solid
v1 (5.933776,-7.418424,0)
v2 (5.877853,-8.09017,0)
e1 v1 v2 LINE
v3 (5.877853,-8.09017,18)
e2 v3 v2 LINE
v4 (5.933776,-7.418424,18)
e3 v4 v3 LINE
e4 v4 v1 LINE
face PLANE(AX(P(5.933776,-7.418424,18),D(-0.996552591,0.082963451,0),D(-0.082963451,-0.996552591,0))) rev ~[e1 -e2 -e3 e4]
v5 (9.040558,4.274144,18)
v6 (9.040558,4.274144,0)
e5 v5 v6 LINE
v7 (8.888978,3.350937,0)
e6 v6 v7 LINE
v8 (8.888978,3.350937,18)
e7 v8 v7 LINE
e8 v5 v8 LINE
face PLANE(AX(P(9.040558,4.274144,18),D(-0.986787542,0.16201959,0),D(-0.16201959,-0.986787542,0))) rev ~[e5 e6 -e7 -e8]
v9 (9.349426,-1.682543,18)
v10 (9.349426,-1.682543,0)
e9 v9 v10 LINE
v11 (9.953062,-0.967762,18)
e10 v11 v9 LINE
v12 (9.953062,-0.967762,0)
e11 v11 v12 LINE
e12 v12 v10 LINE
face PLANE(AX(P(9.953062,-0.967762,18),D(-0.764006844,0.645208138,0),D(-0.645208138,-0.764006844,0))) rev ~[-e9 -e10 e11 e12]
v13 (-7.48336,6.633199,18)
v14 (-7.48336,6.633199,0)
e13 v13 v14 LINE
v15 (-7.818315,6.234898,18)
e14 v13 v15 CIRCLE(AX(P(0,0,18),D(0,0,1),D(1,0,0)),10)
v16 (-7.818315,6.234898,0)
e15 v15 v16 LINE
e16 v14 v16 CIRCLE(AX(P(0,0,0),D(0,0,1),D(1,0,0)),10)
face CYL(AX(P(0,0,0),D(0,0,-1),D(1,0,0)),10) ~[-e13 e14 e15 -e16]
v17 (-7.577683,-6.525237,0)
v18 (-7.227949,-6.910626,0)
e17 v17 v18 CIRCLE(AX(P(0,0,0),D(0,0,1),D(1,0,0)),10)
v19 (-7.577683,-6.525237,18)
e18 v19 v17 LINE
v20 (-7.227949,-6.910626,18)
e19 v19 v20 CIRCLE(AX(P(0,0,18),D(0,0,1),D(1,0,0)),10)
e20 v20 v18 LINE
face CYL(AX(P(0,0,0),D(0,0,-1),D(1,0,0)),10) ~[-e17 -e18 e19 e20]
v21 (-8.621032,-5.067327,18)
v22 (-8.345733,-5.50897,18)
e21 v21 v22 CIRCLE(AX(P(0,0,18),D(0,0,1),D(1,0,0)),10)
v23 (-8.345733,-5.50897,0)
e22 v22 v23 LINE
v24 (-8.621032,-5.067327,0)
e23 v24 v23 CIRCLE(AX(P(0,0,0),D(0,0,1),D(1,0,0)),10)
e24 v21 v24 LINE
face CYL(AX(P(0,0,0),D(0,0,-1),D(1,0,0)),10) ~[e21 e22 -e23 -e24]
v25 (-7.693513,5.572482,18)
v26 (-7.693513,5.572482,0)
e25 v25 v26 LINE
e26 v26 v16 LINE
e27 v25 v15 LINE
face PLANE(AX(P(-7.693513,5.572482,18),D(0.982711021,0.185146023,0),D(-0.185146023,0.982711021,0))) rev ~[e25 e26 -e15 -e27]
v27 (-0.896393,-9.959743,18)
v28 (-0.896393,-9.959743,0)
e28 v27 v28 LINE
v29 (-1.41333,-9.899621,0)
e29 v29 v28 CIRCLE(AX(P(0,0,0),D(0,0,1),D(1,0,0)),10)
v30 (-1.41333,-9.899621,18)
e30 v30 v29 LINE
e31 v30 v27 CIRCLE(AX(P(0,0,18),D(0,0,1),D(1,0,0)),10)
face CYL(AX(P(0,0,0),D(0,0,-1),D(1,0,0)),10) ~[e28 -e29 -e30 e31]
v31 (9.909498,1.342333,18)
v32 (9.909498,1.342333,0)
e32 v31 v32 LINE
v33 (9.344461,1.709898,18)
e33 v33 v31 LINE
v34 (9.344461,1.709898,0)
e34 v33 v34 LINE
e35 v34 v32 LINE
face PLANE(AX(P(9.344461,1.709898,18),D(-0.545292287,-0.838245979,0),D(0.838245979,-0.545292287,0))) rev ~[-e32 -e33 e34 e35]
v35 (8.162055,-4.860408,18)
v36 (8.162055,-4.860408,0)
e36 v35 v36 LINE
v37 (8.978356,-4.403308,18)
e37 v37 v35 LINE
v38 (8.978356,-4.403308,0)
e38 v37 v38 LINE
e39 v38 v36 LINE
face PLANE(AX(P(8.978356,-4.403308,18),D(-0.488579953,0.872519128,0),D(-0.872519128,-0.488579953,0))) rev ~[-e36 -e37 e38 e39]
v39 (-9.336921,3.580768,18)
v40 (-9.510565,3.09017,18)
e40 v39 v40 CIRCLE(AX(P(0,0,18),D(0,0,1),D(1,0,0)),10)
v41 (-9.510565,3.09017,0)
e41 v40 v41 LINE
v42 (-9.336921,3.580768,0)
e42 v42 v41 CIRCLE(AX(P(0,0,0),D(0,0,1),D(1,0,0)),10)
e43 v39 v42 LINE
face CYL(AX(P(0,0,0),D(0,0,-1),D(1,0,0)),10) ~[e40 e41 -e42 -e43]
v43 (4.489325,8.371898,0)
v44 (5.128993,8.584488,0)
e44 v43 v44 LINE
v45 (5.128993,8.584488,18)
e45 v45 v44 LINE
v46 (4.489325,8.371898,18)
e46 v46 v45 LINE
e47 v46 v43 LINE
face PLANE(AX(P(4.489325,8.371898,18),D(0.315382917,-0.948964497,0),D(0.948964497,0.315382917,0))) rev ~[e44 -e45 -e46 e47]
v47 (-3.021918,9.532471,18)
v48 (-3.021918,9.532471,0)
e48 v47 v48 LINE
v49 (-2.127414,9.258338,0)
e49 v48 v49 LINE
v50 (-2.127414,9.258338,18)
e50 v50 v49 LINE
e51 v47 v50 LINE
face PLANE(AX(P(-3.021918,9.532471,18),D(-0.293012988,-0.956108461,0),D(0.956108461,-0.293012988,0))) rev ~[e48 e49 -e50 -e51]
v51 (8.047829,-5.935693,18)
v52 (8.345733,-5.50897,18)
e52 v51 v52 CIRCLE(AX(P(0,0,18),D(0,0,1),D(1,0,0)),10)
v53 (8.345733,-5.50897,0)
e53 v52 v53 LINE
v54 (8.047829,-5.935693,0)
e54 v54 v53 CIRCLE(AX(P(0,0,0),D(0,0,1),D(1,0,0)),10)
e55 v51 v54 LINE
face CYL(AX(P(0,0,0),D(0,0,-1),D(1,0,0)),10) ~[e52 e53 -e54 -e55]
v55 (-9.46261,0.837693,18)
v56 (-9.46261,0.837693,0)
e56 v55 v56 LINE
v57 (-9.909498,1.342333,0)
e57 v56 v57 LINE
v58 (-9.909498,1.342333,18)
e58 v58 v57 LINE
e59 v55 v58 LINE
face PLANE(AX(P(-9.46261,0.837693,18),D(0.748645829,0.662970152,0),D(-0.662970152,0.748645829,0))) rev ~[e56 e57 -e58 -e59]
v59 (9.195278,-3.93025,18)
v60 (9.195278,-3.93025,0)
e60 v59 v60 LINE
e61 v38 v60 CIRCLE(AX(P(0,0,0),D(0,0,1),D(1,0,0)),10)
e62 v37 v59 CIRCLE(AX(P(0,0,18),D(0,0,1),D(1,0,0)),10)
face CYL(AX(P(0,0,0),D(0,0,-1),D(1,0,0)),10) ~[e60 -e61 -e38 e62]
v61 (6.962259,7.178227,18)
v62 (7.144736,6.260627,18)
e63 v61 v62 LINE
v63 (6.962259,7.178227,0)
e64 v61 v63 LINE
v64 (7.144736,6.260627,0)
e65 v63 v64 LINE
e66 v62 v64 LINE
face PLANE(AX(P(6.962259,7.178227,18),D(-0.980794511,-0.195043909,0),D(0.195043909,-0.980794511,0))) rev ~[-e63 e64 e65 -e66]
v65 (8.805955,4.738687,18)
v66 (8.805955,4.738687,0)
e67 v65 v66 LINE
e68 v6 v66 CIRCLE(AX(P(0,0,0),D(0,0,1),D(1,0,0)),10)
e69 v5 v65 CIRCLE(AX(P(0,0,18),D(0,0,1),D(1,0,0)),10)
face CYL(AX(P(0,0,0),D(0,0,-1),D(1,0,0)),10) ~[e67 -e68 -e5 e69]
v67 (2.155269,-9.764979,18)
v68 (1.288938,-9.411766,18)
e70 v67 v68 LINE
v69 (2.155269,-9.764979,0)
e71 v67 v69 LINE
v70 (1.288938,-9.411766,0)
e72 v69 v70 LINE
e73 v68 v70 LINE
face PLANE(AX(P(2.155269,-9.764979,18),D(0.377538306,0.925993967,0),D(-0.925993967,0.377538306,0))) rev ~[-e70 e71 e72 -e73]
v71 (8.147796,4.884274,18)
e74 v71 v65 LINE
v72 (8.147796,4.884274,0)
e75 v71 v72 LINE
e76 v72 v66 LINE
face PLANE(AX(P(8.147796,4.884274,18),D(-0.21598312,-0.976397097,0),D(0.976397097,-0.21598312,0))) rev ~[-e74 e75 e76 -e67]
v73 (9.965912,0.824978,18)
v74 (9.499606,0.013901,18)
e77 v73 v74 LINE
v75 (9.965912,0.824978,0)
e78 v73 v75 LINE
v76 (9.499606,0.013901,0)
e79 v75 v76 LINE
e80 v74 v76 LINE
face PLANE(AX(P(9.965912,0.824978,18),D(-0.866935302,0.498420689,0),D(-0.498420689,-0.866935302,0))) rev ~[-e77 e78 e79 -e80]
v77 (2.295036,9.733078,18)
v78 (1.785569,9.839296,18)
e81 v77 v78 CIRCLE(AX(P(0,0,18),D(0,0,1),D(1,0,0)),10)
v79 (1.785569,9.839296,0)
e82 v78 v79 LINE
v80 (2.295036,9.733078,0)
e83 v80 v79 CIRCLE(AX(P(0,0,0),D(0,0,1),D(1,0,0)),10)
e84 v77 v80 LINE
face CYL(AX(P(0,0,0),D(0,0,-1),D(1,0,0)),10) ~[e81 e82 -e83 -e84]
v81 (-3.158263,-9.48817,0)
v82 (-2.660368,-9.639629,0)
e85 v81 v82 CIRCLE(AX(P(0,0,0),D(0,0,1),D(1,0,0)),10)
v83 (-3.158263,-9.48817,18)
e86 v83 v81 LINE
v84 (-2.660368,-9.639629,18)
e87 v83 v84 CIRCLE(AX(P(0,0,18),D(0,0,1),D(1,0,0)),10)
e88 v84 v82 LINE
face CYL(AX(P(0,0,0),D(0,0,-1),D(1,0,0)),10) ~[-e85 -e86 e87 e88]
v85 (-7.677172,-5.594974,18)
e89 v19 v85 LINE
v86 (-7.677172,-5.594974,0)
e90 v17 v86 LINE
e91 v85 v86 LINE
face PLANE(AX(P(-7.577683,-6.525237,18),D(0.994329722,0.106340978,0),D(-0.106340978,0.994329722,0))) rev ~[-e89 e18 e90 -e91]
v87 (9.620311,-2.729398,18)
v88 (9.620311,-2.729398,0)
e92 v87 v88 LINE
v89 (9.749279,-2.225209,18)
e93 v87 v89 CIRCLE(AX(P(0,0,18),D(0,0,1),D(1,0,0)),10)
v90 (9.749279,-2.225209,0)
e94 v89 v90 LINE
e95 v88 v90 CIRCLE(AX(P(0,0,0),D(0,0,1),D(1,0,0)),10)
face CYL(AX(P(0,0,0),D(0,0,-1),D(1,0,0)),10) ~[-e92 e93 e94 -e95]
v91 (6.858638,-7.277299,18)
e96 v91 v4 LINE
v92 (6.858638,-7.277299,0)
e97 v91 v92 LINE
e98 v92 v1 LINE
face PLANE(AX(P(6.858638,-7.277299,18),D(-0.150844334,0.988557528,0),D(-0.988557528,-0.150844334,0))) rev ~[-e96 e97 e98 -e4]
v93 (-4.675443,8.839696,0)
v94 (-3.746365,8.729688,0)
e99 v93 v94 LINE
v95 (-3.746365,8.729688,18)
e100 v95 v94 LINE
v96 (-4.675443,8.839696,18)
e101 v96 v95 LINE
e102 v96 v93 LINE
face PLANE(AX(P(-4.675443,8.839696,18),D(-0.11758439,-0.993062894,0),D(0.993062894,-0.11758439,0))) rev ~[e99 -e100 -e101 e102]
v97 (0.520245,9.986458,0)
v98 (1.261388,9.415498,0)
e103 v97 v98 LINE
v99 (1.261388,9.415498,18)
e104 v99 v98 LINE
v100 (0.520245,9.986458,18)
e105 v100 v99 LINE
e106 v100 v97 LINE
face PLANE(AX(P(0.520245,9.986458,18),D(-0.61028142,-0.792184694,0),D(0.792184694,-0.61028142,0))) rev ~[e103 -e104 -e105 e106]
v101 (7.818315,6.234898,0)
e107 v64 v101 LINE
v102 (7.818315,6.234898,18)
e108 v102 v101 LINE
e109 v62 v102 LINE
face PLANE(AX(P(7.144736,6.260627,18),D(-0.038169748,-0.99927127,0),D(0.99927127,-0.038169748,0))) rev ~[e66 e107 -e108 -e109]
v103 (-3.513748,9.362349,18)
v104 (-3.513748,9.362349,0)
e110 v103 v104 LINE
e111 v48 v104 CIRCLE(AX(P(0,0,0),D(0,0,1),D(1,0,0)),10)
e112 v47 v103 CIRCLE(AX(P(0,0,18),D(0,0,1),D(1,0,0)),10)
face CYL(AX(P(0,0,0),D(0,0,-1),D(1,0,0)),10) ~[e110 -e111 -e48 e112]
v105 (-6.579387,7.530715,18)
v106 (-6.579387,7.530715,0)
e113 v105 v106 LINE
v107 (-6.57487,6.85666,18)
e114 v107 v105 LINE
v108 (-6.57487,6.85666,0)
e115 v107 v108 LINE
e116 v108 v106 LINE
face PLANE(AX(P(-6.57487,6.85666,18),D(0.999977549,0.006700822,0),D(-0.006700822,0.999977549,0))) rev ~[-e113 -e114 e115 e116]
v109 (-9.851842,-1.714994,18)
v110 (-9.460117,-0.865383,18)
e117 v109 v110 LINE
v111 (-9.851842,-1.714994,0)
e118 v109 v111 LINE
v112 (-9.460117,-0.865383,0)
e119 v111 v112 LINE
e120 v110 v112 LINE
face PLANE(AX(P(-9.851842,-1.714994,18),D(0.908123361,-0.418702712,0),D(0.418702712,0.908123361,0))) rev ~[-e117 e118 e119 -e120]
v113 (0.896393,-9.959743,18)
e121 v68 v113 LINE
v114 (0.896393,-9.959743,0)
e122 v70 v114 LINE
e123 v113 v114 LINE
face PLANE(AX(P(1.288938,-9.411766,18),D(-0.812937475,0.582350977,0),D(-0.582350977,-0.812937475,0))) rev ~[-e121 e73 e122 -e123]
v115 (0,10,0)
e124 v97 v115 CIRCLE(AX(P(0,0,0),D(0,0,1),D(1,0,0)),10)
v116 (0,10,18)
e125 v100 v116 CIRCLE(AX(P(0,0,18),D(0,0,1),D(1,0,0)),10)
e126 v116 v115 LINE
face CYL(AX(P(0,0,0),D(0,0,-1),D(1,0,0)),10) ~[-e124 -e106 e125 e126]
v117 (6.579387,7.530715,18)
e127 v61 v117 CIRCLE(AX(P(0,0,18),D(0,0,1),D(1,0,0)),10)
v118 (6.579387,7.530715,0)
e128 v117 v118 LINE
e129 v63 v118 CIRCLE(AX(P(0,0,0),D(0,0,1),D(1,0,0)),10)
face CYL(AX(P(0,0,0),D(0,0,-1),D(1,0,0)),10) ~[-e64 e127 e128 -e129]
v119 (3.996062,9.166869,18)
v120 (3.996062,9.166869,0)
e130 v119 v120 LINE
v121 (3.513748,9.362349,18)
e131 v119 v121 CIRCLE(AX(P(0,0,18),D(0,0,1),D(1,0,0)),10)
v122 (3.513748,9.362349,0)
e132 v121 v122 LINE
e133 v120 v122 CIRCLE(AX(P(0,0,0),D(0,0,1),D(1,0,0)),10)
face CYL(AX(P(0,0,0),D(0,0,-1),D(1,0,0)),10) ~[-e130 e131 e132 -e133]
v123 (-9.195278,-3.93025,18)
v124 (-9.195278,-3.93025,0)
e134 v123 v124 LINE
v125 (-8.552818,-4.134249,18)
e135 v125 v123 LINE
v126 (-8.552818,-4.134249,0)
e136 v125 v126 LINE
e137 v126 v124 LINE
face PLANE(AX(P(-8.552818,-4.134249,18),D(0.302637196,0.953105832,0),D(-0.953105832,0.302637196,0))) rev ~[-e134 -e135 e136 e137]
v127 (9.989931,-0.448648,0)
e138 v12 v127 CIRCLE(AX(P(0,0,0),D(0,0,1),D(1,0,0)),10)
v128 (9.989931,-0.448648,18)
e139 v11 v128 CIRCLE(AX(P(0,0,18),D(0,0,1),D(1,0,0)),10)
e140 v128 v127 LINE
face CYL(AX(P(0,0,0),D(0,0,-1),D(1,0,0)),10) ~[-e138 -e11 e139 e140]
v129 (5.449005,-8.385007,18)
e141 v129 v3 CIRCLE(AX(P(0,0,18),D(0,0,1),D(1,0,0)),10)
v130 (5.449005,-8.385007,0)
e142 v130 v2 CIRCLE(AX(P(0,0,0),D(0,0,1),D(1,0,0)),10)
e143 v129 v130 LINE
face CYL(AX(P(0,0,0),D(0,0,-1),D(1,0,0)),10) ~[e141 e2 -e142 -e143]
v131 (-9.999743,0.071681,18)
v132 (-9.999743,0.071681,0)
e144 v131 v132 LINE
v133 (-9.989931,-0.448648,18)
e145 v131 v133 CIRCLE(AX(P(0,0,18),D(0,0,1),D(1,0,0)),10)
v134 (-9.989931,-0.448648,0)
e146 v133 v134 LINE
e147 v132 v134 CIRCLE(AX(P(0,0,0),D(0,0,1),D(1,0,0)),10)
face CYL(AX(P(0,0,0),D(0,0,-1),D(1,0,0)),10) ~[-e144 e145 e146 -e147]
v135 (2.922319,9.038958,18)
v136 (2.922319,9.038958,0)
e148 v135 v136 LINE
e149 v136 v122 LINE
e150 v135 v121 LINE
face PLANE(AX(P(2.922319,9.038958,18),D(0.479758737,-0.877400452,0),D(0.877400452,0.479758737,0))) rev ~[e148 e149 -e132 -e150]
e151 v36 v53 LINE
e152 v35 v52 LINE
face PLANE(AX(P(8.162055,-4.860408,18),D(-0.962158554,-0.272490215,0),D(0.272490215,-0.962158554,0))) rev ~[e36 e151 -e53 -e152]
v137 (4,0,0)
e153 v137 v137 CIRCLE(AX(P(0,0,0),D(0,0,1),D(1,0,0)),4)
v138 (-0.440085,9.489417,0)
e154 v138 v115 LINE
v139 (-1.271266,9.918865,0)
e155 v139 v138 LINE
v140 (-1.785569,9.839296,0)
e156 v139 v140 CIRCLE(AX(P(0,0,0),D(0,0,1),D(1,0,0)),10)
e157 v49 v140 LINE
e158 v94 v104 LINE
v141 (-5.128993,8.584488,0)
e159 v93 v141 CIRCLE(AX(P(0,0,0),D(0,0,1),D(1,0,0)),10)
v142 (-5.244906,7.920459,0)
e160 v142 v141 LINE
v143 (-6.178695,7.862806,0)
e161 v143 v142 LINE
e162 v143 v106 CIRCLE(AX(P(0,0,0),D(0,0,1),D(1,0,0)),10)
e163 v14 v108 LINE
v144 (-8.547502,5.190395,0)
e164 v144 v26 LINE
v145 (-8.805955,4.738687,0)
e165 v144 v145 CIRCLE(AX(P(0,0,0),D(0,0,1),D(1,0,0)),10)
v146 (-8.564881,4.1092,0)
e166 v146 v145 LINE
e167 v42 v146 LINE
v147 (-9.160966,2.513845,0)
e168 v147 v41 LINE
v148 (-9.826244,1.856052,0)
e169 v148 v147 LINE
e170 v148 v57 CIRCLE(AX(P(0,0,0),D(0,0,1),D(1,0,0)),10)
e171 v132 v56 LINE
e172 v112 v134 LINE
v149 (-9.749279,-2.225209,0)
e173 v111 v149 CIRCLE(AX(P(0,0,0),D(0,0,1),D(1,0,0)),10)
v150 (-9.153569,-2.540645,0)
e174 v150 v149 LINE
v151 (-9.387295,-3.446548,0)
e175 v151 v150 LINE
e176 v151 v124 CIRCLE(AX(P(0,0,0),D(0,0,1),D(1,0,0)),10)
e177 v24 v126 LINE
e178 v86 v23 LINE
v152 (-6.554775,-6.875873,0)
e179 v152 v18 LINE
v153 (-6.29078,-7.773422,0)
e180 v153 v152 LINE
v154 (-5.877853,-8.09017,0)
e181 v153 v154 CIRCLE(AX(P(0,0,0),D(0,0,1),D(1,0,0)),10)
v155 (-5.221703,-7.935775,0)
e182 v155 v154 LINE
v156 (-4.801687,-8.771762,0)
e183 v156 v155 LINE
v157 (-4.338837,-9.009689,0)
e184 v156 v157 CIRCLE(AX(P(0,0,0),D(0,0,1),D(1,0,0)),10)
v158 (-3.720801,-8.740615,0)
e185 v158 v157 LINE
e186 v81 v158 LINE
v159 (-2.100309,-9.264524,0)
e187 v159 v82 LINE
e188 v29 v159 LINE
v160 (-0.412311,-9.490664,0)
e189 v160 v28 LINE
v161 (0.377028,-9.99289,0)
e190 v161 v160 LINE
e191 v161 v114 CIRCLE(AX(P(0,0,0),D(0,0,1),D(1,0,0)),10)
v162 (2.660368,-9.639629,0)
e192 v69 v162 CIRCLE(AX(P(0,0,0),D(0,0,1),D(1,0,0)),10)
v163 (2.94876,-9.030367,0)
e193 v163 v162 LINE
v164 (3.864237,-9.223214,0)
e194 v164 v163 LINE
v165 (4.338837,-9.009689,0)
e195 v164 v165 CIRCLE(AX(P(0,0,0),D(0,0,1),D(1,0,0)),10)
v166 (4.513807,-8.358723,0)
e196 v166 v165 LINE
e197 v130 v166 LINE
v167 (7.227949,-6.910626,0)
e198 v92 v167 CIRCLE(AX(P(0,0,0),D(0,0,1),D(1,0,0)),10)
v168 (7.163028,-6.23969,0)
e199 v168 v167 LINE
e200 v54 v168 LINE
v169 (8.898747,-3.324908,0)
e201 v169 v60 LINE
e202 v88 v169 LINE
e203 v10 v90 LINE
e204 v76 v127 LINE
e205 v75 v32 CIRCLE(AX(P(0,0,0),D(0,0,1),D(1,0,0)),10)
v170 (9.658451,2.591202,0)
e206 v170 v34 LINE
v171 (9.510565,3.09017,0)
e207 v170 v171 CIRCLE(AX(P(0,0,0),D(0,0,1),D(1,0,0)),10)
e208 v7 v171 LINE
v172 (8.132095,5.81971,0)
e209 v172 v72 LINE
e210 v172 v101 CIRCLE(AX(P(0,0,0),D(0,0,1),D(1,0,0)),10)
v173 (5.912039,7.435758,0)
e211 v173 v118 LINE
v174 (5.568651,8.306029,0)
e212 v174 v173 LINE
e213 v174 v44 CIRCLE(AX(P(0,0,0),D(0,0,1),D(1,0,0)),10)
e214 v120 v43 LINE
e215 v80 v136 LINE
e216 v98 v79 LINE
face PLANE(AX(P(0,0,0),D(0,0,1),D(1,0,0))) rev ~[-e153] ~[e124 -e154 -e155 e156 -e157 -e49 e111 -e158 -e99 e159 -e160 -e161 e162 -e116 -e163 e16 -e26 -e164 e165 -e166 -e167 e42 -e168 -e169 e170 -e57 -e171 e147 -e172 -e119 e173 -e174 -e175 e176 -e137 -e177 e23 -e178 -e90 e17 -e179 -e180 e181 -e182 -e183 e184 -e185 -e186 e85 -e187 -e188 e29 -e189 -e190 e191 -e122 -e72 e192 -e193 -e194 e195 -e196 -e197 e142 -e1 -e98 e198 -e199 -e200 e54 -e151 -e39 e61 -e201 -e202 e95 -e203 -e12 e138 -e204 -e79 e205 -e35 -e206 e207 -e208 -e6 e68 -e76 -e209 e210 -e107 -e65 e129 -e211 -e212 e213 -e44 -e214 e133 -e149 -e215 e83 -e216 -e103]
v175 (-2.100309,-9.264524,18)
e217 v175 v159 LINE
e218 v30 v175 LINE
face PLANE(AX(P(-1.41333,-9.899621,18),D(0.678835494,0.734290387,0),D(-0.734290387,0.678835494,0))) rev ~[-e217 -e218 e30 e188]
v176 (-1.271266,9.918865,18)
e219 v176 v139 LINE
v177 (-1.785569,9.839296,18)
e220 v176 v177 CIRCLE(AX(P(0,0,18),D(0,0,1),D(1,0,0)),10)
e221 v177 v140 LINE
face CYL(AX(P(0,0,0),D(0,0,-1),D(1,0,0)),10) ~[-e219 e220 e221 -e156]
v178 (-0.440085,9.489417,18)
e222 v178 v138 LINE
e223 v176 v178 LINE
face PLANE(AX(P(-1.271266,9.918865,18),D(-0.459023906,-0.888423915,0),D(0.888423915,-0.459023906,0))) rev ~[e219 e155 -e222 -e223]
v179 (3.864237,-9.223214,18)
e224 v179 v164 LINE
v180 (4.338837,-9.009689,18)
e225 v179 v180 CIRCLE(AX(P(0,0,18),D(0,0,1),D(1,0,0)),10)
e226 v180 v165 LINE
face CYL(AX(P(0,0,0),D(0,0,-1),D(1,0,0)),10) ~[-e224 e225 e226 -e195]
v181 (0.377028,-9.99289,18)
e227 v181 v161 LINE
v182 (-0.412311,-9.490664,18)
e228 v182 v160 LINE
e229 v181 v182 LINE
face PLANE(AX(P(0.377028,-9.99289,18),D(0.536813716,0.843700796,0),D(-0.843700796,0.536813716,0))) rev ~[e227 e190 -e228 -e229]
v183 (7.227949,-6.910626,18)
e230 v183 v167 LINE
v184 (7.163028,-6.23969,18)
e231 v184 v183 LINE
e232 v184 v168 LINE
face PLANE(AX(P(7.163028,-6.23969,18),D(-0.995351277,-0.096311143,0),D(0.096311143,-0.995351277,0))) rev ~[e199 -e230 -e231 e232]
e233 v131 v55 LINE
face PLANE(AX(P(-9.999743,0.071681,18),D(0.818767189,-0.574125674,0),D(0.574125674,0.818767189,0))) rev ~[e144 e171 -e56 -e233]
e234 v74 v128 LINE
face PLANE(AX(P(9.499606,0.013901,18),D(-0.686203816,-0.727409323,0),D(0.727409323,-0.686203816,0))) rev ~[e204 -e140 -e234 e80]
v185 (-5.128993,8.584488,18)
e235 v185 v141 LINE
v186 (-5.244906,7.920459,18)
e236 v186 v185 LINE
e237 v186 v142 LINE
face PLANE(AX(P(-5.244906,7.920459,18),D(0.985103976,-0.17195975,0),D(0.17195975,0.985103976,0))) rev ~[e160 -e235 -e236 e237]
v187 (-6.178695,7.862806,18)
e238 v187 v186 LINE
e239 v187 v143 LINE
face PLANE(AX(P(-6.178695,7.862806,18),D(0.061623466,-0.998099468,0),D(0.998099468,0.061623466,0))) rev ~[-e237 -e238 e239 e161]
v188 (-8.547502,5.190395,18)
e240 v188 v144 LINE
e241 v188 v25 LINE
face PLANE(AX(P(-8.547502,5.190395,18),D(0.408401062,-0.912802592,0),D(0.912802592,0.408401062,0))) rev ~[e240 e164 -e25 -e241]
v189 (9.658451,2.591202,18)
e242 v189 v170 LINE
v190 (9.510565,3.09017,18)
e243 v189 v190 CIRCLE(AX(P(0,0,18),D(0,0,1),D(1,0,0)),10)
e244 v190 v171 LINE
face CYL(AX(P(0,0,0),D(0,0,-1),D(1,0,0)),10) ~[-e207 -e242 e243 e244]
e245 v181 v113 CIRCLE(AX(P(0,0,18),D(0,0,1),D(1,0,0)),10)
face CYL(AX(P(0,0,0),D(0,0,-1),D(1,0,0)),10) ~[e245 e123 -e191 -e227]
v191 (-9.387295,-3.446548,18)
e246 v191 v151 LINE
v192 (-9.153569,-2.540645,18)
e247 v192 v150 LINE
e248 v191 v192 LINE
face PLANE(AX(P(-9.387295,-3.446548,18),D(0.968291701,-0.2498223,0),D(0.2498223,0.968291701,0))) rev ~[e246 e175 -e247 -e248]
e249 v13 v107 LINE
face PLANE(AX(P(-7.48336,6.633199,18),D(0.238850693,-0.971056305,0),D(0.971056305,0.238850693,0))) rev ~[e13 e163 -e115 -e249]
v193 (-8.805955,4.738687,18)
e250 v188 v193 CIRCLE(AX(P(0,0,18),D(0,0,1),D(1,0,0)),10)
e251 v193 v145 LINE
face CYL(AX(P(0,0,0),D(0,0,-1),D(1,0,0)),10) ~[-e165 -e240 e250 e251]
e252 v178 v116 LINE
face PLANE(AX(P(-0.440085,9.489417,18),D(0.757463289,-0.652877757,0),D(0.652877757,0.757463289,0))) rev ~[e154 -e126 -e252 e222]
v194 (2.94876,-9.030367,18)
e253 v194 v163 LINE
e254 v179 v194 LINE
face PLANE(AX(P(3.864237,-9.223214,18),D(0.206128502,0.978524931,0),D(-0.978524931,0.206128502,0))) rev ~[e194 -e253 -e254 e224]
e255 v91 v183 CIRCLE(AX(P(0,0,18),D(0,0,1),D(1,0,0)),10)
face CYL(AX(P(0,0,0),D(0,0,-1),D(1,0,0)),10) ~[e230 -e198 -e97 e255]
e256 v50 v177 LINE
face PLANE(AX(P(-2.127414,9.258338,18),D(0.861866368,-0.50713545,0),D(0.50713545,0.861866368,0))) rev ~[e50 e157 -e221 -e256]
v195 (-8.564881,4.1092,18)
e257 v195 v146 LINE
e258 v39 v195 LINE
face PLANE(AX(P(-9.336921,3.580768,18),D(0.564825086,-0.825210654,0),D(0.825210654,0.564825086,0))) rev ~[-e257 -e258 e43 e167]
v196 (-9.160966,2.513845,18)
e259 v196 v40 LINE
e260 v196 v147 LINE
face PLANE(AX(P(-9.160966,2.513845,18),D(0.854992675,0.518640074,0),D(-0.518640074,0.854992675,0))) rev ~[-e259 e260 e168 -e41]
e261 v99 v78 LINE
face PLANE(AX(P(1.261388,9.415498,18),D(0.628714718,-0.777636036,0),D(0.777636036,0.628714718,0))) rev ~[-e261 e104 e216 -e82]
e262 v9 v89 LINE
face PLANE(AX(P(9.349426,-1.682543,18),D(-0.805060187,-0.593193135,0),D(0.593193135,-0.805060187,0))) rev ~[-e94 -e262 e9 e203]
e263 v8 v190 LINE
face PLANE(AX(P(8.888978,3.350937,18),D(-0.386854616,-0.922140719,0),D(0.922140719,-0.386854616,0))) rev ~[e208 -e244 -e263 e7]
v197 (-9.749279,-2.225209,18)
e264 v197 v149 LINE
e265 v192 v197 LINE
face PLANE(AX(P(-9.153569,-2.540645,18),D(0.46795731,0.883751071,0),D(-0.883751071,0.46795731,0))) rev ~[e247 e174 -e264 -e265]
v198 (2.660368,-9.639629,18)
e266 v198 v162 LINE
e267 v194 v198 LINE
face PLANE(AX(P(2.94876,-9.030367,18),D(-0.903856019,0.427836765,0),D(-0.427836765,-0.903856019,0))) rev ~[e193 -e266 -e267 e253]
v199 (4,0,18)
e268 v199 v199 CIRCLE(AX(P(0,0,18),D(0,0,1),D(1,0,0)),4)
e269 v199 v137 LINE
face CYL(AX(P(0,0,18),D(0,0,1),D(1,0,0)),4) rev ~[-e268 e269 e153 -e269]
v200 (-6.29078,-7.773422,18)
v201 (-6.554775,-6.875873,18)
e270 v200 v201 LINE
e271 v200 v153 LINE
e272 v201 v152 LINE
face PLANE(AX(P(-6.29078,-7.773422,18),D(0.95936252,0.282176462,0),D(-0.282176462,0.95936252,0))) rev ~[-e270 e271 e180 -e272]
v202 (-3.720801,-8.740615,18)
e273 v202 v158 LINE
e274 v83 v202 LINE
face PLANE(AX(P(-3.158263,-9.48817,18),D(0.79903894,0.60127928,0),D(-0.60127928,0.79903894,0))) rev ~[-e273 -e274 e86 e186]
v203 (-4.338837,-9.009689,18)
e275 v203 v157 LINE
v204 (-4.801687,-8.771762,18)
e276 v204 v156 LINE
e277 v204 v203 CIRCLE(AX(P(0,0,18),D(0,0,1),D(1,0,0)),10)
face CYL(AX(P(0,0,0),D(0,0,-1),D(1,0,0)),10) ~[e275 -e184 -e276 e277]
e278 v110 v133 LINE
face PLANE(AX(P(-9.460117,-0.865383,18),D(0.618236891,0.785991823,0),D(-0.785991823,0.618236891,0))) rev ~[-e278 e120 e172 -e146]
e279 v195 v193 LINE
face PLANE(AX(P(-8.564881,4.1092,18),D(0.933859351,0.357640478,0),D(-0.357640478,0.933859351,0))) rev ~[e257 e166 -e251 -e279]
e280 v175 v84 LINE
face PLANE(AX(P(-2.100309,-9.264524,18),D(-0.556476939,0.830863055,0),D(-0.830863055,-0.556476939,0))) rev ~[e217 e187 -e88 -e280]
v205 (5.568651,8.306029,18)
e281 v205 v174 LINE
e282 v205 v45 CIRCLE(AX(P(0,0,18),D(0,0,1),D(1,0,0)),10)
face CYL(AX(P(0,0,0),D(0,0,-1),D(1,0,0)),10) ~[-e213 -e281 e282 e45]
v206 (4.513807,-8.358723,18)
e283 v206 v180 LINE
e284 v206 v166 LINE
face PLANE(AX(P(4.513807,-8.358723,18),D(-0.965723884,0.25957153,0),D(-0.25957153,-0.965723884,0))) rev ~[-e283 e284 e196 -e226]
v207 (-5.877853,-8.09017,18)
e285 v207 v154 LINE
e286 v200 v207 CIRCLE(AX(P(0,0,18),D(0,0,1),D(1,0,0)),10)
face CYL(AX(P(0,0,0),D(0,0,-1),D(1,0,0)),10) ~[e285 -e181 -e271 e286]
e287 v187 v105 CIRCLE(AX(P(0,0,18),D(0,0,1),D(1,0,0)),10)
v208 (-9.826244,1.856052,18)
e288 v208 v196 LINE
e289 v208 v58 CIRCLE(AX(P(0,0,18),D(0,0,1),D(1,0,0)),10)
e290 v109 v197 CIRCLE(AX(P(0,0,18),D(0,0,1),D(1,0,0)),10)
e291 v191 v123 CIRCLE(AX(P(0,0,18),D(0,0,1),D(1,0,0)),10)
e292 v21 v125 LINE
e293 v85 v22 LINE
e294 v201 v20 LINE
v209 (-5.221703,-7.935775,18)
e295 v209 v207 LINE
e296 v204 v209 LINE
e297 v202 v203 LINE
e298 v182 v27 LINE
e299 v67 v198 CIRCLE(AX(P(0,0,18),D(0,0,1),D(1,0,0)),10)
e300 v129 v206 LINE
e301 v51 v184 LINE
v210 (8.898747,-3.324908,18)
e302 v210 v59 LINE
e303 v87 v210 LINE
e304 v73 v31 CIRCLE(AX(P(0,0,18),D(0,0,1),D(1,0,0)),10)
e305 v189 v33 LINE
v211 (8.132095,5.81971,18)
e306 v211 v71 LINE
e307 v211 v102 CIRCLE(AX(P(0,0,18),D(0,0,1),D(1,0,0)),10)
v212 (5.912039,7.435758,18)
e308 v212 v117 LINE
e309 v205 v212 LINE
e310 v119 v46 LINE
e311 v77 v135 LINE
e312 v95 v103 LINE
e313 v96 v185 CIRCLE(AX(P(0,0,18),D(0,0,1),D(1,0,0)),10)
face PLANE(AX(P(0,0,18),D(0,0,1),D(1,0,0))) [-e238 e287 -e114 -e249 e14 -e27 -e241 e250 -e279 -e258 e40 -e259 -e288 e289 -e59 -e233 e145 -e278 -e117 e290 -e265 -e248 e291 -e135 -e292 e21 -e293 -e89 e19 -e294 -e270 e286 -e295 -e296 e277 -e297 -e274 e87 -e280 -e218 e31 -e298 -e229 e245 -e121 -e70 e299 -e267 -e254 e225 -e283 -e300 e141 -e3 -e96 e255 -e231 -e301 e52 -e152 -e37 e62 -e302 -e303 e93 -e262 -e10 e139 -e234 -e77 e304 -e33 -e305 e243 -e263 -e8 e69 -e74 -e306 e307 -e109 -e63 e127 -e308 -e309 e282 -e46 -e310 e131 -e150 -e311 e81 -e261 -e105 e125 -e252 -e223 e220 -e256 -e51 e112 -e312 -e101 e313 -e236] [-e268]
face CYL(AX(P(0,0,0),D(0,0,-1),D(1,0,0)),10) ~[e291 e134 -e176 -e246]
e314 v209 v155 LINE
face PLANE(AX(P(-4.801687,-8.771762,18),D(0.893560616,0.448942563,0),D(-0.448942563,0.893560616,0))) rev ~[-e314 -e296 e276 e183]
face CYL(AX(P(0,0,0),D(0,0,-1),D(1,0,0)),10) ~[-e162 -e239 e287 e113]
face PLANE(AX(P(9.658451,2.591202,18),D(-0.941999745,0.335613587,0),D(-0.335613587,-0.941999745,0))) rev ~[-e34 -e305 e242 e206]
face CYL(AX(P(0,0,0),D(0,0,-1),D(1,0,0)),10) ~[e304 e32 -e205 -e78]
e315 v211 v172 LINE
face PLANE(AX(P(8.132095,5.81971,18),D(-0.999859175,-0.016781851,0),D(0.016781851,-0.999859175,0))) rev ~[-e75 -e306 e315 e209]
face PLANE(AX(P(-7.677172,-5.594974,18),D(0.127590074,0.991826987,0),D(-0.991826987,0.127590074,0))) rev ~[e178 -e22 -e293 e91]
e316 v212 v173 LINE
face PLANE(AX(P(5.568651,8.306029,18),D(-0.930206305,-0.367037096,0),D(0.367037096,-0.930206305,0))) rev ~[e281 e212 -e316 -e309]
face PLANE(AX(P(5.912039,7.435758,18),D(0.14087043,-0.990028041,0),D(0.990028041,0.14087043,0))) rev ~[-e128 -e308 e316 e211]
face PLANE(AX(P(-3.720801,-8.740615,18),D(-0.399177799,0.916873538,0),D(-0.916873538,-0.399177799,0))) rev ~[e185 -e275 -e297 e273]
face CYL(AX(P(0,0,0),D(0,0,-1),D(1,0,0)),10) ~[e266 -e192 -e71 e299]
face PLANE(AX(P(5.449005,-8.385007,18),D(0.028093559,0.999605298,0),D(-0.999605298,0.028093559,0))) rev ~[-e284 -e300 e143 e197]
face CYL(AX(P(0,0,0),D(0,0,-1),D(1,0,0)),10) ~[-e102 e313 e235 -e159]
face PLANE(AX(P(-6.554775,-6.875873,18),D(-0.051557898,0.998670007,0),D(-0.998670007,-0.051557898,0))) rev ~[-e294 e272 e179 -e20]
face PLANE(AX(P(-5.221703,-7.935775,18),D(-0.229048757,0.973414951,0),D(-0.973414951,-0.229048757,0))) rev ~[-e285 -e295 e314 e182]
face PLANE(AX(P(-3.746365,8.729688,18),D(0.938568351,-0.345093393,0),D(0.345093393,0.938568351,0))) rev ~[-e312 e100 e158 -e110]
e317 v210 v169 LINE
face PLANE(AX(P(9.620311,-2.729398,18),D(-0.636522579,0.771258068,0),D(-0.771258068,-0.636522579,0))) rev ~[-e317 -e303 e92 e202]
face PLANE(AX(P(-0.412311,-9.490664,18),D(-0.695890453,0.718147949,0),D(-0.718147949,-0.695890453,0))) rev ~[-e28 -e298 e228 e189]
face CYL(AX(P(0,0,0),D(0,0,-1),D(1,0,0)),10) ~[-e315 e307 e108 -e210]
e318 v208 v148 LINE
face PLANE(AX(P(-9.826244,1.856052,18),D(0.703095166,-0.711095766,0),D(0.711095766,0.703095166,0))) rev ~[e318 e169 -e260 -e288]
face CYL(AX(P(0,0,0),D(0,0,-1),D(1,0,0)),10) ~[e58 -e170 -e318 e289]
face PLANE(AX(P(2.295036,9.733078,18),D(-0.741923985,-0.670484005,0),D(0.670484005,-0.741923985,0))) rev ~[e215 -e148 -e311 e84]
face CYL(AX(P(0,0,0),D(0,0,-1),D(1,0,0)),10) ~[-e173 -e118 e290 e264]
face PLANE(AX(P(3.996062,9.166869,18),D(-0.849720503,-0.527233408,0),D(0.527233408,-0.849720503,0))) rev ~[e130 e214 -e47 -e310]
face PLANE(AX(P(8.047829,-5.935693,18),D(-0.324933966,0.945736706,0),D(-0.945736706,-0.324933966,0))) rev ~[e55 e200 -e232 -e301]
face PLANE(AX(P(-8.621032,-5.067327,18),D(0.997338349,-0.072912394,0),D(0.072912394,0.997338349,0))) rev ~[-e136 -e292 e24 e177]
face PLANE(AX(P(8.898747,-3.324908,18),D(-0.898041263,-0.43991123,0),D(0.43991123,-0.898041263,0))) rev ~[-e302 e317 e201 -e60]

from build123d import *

# Parameters (mm, degrees)
SKETCH_1_R          = 10
EXTRUDE_1_DEPTH     = 18
CUT_EXTRUDE_1_DEPTH = 18
SKETCH_3_R          = 4
CUT_EXTRUDE_2_DEPTH = 18


with BuildPart() as part:
    # 스케치1 → 보스-돌출1 (new body)
    with BuildSketch(Plane.XY):
        Circle(SKETCH_1_R)
    extrude(amount=EXTRUDE_1_DEPTH)

    # 스케치2 → 컷-돌출1 (cut)
    with BuildSketch(Plane.XY.offset(18)):
        with BuildLine():
            Line((-1.271266061, 9.918864986), (-0.440085126, 9.489416934))
            Line((-0.440085126, 9.489416934), (0, 10))
            ThreePointArc((0, 10), (-0.652192749, 10.218898871), (-1.271266061, 9.918864986))
        make_face()
        with BuildLine():
            Line((0.52024544, 9.986458065), (1.261388044, 9.415498333))
            Line((1.261388044, 9.415498333), (1.785568948, 9.839295886))
            ThreePointArc((1.785568948, 9.839295886), (1.182943108, 10.171130474), (0.52024544, 9.986458065))
        make_face()
        with BuildLine():
            Line((2.295035824, 9.733078165), (2.922319165, 9.038957869))
            Line((2.922319165, 9.038957869), (3.513748241, 9.362348706))
            ThreePointArc((3.513748241, 9.362348706), (2.980058199, 9.796453575), (2.295035824, 9.733078165))
        make_face()
        with BuildLine():
            Line((3.996061868, 9.166869125), (4.489324543, 8.371897862))
            Line((4.489324543, 8.371897862), (5.128992774, 8.584487936))
            ThreePointArc((5.128992774, 8.584487936), (4.681391768, 9.106910598), (3.996061868, 9.166869125))
        make_face()
        with BuildLine():
            Line((5.568651195, 8.306029368), (5.912039336, 7.435758169))
            Line((5.912039336, 7.435758169), (6.579387259, 7.53071466))
            ThreePointArc((6.579387259, 7.53071466), (6.232261554, 8.12466402), (5.568651195, 8.306029368))
        make_face()
        with BuildLine():
            Line((6.962259492, 7.178226993), (7.144736321, 6.26062709))
            Line((7.144736321, 6.26062709), (7.818314825, 6.234898019))
            ThreePointArc((7.818314825, 6.234898019), (7.582821326, 6.881284056), (6.962259492, 7.178226993))
        make_face()
        with BuildLine():
            Line((8.13209504, 5.819710497), (8.147795602, 4.884274306))
            Line((8.147795602, 4.884274306), (8.805955319, 4.738686625))
            ThreePointArc((8.805955319, 4.738686625), (8.689662981, 5.416733961), (8.13209504, 5.819710497))
        make_face()
        with BuildLine():
            Line((9.040558362, 4.274143716), (8.888978028, 3.350936926))
            Line((8.888978028, 3.350936926), (9.510565163, 3.090169944))
            ThreePointArc((9.510565163, 3.090169944), (9.517211718, 3.778085579), (9.040558362, 4.274143716))
        make_face()
        with BuildLine():
            Line((9.658450699, 2.59120244), (9.344461386, 1.709897677))
            Line((9.344461386, 1.709897677), (9.909497618, 1.342332658))
            ThreePointArc((9.909497618, 1.342332658), (10.038869439, 2.018006418), (9.658450699, 2.59120244))
        make_face()
        with BuildLine():
            Line((9.965912485, 0.824977785), (9.499606067, 0.013900909))
            Line((9.499606067, 0.013900909), (9.989930665, -0.448648304))
            ThreePointArc((9.989930665, -0.448648304), (10.237869637, 0.19306687), (9.965912485, 0.824977785))
        make_face()
        with BuildLine():
            Line((9.953061643, -0.967762334), (9.349425592, -1.682542646))
            Line((9.349425592, -1.682542646), (9.749279122, -2.22520934))
            ThreePointArc((9.749279122, -2.22520934), (10.107816281, -1.638078006), (9.953061643, -0.967762334))
        make_face()
        with BuildLine():
            Line((9.62031121, -2.729397776), (8.898746887, -3.324907895))
            Line((8.898746887, -3.324907895), (9.195277726, -3.930250317))
            ThreePointArc((9.195277726, -3.930250317), (9.652889393, -3.416573707), (9.62031121, -2.729397776))
        make_face()
        with BuildLine():
            Line((8.97835606, -4.403308127), (8.162055134, -4.860407869))
            Line((8.162055134, -4.860407869), (8.345732537, -5.508969815))
            ThreePointArc((8.345732537, -5.508969815), (8.887710697, -5.085257917), (8.97835606, -4.403308127))
        make_face()
        with BuildLine():
            Line((8.047829158, -5.935692533), (7.163028213, -6.239690335))
            Line((7.163028213, -6.239690335), (7.227948638, -6.91062649))
            ThreePointArc((7.227948638, -6.91062649), (7.836873667, -6.590497754), (8.047829158, -5.935692533))
        make_face()
        with BuildLine():
            Line((6.858638405, -7.277298896), (5.933775673, -7.418424019))
            Line((5.933775673, -7.418424019), (5.877852523, -8.090169944))
            ThreePointArc((5.877852523, -8.090169944), (6.534153069, -7.883913571), (6.858638405, -7.277298896))
        make_face()
        with BuildLine():
            Line((5.449005371, -8.385006885), (4.513806699, -8.358723452))
            Line((4.513806699, -8.358723452), (4.338837391, -9.009688679))
            ThreePointArc((4.338837391, -9.009688679), (5.021419415, -8.923933919), (5.449005371, -8.385006885))
        make_face()
        with BuildLine():
            Line((3.864236821, -9.223213854), (2.948760264, -9.030366635))
            Line((2.948760264, -9.030366635), (2.660368456, -9.639628607))
            ThreePointArc((2.660368456, -9.639628607), (3.347293209, -9.677131687), (3.864236821, -9.223213854))
        make_face()
        with BuildLine():
            Line((2.15526852, -9.76497914), (1.288938249, -9.411766404))
            Line((1.288938249, -9.411766404), (0.896393089, -9.95974294))
            ThreePointArc((0.896393089, -9.95974294), (1.565582245, -10.119298481), (2.15526852, -9.76497914))
        make_face()
        with BuildLine():
            Line((0.377028115, -9.992889962), (-0.412311303, -9.490664258))
            Line((-0.412311303, -9.490664258), (-0.896393089, -9.95974294))
            ThreePointArc((-0.896393089, -9.95974294), (-0.26644782, -10.236222696), (0.377028115, -9.992889962))
        make_face()
        with BuildLine():
            Line((-1.413330284, -9.899621079), (-2.10030883, -9.264524353))
            Line((-2.10030883, -9.264524353), (-2.660368456, -9.639628607))
            ThreePointArc((-2.660368456, -9.639628607), (-2.089914033, -10.024146291), (-1.413330284, -9.899621079))
        make_face()
        with BuildLine():
            Line((-3.158263084, -9.488170229), (-3.720800703, -8.740615012))
            Line((-3.720800703, -8.740615012), (-4.338837391, -9.009688679))
            ThreePointArc((-4.338837391, -9.009688679), (-3.846208689, -9.489885576), (-3.158263084, -9.488170229))
        make_face()
        with BuildLine():
            Line((-4.801686711, -8.77176178), (-5.221702981, -7.935775113))
            Line((-5.221702981, -7.935775113), (-5.877852523, -8.090169944))
            ThreePointArc((-5.877852523, -8.090169944), (-5.478883034, -8.65061213), (-4.801686711, -8.77176178))
        make_face()
        with BuildLine():
            Line((-6.290780175, -7.773421691), (-6.554775427, -6.875872872))
            Line((-6.554775427, -6.875872872), (-7.227948638, -6.91062649))
            ThreePointArc((-7.227948638, -6.91062649), (-6.935461569, -7.533300893), (-6.290780175, -7.773421691))
        make_face()
        with BuildLine():
            Line((-7.577682789, -6.525237433), (-7.677171999, -5.59497442))
            Line((-7.677171999, -5.59497442), (-8.345732537, -5.508969815))
            ThreePointArc((-8.345732537, -5.508969815), (-8.169128664, -6.173863166), (-7.577682789, -6.525237433))
        make_face()
        with BuildLine():
            Line((-8.621032443, -5.067326674), (-8.552817945, -4.134248887))
            Line((-8.552817945, -4.134248887), (-9.195277726, -3.930250317))
            ThreePointArc((-9.195277726, -3.930250317), (-9.140233241, -4.615992398), (-8.621032443, -5.067326674))
        make_face()
        with BuildLine():
            Line((-9.387295021, -3.446547867), (-9.153569286, -2.540645192))
            Line((-9.153569286, -2.540645192), (-9.749279122, -2.22520934))
            ThreePointArc((-9.749279122, -2.22520934), (-9.817563202, -2.909759836), (-9.387295021, -3.446547867))
        make_face()
        with BuildLine():
            Line((-9.851842212, -1.714994175), (-9.460117378, -0.865383071))
            Line((-9.460117378, -0.865383071), (-9.989930665, -0.448648304))
            ThreePointArc((-9.989930665, -0.448648304), (-10.179348603, -1.110005198), (-9.851842212, -1.714994175))
        make_face()
        with BuildLine():
            Line((-9.99974309, 0.07168084), (-9.462609514, 0.837693175))
            Line((-9.462609514, 0.837693175), (-9.909497618, 1.342332658))
            ThreePointArc((-9.909497618, 1.342332658), (-10.213961365, 0.725425919), (-9.99974309, 0.07168084))
        make_face()
        with BuildLine():
            Line((-9.826243996, 1.856051975), (-9.160965594, 2.513845272))
            Line((-9.160965594, 2.513845272), (-9.510565163, 3.090169944))
            ThreePointArc((-9.510565163, 3.090169944), (-9.920289004, 2.537541251), (-9.826243996, 1.856051975))
        make_face()
        with BuildLine():
            Line((-9.336921335, 3.580768071), (-8.564880702, 4.109200314))
            Line((-8.564880702, 4.109200314), (-8.805955319, 4.738686625))
            ThreePointArc((-8.805955319, 4.738686625), (-9.307770392, 4.268097919), (-9.336921335, 3.580768071))
        make_face()
        with BuildLine():
            Line((-8.54750234, 5.190395336), (-7.693513497, 5.572482277))
            Line((-7.693513497, 5.572482277), (-7.818314825, 6.234898019))
            ThreePointArc((-7.818314825, 6.234898019), (-8.396092381, 5.861474409), (-8.54750234, 5.190395336))
        make_face()
        with BuildLine():
            Line((-7.483359587, 6.633199024), (-6.574870438, 6.856660075))
            Line((-6.574870438, 6.856660075), (-6.579387259, 7.53071466))
            ThreePointArc((-6.579387259, 7.53071466), (-7.214557053, 7.266458288), (-7.483359587, 6.633199024))
        make_face()
        with BuildLine():
            Line((-6.1786955, 7.862806237), (-5.244905634, 7.920459176))
            Line((-5.244905634, 7.920459176), (-5.128992774, 8.584487936))
            ThreePointArc((-5.128992774, 8.584487936), (-5.801139925, 8.437892218), (-6.1786955, 7.862806237))
        make_face()
        with BuildLine():
            Line((-4.675443055, 8.839696388), (-3.746365247, 8.729688202))
            Line((-3.746365247, 8.729688202), (-3.513748241, 9.362348706))
            ThreePointArc((-3.513748241, 9.362348706), (-4.201269387, 9.33812535), (-4.675443055, 8.839696388))
        make_face()
        with BuildLine():
            Line((-3.021918024, 9.532471424), (-2.127413598, 9.258337866))
            Line((-2.127413598, 9.258337866), (-1.785568948, 9.839295886))
            ThreePointArc((-1.785568948, 9.839295886), (-2.466366594, 9.93822345), (-3.021918024, 9.532471424))
        make_face()
    extrude(amount=-CUT_EXTRUDE_1_DEPTH, mode=Mode.SUBTRACT)

    # 스케치3 → 컷-돌출2 (cut)
    with BuildSketch(Plane.XY.offset(18)):
        Circle(SKETCH_3_R)
    extrude(amount=-CUT_EXTRUDE_2_DEPTH, mode=Mode.SUBTRACT)


solid = part.part
